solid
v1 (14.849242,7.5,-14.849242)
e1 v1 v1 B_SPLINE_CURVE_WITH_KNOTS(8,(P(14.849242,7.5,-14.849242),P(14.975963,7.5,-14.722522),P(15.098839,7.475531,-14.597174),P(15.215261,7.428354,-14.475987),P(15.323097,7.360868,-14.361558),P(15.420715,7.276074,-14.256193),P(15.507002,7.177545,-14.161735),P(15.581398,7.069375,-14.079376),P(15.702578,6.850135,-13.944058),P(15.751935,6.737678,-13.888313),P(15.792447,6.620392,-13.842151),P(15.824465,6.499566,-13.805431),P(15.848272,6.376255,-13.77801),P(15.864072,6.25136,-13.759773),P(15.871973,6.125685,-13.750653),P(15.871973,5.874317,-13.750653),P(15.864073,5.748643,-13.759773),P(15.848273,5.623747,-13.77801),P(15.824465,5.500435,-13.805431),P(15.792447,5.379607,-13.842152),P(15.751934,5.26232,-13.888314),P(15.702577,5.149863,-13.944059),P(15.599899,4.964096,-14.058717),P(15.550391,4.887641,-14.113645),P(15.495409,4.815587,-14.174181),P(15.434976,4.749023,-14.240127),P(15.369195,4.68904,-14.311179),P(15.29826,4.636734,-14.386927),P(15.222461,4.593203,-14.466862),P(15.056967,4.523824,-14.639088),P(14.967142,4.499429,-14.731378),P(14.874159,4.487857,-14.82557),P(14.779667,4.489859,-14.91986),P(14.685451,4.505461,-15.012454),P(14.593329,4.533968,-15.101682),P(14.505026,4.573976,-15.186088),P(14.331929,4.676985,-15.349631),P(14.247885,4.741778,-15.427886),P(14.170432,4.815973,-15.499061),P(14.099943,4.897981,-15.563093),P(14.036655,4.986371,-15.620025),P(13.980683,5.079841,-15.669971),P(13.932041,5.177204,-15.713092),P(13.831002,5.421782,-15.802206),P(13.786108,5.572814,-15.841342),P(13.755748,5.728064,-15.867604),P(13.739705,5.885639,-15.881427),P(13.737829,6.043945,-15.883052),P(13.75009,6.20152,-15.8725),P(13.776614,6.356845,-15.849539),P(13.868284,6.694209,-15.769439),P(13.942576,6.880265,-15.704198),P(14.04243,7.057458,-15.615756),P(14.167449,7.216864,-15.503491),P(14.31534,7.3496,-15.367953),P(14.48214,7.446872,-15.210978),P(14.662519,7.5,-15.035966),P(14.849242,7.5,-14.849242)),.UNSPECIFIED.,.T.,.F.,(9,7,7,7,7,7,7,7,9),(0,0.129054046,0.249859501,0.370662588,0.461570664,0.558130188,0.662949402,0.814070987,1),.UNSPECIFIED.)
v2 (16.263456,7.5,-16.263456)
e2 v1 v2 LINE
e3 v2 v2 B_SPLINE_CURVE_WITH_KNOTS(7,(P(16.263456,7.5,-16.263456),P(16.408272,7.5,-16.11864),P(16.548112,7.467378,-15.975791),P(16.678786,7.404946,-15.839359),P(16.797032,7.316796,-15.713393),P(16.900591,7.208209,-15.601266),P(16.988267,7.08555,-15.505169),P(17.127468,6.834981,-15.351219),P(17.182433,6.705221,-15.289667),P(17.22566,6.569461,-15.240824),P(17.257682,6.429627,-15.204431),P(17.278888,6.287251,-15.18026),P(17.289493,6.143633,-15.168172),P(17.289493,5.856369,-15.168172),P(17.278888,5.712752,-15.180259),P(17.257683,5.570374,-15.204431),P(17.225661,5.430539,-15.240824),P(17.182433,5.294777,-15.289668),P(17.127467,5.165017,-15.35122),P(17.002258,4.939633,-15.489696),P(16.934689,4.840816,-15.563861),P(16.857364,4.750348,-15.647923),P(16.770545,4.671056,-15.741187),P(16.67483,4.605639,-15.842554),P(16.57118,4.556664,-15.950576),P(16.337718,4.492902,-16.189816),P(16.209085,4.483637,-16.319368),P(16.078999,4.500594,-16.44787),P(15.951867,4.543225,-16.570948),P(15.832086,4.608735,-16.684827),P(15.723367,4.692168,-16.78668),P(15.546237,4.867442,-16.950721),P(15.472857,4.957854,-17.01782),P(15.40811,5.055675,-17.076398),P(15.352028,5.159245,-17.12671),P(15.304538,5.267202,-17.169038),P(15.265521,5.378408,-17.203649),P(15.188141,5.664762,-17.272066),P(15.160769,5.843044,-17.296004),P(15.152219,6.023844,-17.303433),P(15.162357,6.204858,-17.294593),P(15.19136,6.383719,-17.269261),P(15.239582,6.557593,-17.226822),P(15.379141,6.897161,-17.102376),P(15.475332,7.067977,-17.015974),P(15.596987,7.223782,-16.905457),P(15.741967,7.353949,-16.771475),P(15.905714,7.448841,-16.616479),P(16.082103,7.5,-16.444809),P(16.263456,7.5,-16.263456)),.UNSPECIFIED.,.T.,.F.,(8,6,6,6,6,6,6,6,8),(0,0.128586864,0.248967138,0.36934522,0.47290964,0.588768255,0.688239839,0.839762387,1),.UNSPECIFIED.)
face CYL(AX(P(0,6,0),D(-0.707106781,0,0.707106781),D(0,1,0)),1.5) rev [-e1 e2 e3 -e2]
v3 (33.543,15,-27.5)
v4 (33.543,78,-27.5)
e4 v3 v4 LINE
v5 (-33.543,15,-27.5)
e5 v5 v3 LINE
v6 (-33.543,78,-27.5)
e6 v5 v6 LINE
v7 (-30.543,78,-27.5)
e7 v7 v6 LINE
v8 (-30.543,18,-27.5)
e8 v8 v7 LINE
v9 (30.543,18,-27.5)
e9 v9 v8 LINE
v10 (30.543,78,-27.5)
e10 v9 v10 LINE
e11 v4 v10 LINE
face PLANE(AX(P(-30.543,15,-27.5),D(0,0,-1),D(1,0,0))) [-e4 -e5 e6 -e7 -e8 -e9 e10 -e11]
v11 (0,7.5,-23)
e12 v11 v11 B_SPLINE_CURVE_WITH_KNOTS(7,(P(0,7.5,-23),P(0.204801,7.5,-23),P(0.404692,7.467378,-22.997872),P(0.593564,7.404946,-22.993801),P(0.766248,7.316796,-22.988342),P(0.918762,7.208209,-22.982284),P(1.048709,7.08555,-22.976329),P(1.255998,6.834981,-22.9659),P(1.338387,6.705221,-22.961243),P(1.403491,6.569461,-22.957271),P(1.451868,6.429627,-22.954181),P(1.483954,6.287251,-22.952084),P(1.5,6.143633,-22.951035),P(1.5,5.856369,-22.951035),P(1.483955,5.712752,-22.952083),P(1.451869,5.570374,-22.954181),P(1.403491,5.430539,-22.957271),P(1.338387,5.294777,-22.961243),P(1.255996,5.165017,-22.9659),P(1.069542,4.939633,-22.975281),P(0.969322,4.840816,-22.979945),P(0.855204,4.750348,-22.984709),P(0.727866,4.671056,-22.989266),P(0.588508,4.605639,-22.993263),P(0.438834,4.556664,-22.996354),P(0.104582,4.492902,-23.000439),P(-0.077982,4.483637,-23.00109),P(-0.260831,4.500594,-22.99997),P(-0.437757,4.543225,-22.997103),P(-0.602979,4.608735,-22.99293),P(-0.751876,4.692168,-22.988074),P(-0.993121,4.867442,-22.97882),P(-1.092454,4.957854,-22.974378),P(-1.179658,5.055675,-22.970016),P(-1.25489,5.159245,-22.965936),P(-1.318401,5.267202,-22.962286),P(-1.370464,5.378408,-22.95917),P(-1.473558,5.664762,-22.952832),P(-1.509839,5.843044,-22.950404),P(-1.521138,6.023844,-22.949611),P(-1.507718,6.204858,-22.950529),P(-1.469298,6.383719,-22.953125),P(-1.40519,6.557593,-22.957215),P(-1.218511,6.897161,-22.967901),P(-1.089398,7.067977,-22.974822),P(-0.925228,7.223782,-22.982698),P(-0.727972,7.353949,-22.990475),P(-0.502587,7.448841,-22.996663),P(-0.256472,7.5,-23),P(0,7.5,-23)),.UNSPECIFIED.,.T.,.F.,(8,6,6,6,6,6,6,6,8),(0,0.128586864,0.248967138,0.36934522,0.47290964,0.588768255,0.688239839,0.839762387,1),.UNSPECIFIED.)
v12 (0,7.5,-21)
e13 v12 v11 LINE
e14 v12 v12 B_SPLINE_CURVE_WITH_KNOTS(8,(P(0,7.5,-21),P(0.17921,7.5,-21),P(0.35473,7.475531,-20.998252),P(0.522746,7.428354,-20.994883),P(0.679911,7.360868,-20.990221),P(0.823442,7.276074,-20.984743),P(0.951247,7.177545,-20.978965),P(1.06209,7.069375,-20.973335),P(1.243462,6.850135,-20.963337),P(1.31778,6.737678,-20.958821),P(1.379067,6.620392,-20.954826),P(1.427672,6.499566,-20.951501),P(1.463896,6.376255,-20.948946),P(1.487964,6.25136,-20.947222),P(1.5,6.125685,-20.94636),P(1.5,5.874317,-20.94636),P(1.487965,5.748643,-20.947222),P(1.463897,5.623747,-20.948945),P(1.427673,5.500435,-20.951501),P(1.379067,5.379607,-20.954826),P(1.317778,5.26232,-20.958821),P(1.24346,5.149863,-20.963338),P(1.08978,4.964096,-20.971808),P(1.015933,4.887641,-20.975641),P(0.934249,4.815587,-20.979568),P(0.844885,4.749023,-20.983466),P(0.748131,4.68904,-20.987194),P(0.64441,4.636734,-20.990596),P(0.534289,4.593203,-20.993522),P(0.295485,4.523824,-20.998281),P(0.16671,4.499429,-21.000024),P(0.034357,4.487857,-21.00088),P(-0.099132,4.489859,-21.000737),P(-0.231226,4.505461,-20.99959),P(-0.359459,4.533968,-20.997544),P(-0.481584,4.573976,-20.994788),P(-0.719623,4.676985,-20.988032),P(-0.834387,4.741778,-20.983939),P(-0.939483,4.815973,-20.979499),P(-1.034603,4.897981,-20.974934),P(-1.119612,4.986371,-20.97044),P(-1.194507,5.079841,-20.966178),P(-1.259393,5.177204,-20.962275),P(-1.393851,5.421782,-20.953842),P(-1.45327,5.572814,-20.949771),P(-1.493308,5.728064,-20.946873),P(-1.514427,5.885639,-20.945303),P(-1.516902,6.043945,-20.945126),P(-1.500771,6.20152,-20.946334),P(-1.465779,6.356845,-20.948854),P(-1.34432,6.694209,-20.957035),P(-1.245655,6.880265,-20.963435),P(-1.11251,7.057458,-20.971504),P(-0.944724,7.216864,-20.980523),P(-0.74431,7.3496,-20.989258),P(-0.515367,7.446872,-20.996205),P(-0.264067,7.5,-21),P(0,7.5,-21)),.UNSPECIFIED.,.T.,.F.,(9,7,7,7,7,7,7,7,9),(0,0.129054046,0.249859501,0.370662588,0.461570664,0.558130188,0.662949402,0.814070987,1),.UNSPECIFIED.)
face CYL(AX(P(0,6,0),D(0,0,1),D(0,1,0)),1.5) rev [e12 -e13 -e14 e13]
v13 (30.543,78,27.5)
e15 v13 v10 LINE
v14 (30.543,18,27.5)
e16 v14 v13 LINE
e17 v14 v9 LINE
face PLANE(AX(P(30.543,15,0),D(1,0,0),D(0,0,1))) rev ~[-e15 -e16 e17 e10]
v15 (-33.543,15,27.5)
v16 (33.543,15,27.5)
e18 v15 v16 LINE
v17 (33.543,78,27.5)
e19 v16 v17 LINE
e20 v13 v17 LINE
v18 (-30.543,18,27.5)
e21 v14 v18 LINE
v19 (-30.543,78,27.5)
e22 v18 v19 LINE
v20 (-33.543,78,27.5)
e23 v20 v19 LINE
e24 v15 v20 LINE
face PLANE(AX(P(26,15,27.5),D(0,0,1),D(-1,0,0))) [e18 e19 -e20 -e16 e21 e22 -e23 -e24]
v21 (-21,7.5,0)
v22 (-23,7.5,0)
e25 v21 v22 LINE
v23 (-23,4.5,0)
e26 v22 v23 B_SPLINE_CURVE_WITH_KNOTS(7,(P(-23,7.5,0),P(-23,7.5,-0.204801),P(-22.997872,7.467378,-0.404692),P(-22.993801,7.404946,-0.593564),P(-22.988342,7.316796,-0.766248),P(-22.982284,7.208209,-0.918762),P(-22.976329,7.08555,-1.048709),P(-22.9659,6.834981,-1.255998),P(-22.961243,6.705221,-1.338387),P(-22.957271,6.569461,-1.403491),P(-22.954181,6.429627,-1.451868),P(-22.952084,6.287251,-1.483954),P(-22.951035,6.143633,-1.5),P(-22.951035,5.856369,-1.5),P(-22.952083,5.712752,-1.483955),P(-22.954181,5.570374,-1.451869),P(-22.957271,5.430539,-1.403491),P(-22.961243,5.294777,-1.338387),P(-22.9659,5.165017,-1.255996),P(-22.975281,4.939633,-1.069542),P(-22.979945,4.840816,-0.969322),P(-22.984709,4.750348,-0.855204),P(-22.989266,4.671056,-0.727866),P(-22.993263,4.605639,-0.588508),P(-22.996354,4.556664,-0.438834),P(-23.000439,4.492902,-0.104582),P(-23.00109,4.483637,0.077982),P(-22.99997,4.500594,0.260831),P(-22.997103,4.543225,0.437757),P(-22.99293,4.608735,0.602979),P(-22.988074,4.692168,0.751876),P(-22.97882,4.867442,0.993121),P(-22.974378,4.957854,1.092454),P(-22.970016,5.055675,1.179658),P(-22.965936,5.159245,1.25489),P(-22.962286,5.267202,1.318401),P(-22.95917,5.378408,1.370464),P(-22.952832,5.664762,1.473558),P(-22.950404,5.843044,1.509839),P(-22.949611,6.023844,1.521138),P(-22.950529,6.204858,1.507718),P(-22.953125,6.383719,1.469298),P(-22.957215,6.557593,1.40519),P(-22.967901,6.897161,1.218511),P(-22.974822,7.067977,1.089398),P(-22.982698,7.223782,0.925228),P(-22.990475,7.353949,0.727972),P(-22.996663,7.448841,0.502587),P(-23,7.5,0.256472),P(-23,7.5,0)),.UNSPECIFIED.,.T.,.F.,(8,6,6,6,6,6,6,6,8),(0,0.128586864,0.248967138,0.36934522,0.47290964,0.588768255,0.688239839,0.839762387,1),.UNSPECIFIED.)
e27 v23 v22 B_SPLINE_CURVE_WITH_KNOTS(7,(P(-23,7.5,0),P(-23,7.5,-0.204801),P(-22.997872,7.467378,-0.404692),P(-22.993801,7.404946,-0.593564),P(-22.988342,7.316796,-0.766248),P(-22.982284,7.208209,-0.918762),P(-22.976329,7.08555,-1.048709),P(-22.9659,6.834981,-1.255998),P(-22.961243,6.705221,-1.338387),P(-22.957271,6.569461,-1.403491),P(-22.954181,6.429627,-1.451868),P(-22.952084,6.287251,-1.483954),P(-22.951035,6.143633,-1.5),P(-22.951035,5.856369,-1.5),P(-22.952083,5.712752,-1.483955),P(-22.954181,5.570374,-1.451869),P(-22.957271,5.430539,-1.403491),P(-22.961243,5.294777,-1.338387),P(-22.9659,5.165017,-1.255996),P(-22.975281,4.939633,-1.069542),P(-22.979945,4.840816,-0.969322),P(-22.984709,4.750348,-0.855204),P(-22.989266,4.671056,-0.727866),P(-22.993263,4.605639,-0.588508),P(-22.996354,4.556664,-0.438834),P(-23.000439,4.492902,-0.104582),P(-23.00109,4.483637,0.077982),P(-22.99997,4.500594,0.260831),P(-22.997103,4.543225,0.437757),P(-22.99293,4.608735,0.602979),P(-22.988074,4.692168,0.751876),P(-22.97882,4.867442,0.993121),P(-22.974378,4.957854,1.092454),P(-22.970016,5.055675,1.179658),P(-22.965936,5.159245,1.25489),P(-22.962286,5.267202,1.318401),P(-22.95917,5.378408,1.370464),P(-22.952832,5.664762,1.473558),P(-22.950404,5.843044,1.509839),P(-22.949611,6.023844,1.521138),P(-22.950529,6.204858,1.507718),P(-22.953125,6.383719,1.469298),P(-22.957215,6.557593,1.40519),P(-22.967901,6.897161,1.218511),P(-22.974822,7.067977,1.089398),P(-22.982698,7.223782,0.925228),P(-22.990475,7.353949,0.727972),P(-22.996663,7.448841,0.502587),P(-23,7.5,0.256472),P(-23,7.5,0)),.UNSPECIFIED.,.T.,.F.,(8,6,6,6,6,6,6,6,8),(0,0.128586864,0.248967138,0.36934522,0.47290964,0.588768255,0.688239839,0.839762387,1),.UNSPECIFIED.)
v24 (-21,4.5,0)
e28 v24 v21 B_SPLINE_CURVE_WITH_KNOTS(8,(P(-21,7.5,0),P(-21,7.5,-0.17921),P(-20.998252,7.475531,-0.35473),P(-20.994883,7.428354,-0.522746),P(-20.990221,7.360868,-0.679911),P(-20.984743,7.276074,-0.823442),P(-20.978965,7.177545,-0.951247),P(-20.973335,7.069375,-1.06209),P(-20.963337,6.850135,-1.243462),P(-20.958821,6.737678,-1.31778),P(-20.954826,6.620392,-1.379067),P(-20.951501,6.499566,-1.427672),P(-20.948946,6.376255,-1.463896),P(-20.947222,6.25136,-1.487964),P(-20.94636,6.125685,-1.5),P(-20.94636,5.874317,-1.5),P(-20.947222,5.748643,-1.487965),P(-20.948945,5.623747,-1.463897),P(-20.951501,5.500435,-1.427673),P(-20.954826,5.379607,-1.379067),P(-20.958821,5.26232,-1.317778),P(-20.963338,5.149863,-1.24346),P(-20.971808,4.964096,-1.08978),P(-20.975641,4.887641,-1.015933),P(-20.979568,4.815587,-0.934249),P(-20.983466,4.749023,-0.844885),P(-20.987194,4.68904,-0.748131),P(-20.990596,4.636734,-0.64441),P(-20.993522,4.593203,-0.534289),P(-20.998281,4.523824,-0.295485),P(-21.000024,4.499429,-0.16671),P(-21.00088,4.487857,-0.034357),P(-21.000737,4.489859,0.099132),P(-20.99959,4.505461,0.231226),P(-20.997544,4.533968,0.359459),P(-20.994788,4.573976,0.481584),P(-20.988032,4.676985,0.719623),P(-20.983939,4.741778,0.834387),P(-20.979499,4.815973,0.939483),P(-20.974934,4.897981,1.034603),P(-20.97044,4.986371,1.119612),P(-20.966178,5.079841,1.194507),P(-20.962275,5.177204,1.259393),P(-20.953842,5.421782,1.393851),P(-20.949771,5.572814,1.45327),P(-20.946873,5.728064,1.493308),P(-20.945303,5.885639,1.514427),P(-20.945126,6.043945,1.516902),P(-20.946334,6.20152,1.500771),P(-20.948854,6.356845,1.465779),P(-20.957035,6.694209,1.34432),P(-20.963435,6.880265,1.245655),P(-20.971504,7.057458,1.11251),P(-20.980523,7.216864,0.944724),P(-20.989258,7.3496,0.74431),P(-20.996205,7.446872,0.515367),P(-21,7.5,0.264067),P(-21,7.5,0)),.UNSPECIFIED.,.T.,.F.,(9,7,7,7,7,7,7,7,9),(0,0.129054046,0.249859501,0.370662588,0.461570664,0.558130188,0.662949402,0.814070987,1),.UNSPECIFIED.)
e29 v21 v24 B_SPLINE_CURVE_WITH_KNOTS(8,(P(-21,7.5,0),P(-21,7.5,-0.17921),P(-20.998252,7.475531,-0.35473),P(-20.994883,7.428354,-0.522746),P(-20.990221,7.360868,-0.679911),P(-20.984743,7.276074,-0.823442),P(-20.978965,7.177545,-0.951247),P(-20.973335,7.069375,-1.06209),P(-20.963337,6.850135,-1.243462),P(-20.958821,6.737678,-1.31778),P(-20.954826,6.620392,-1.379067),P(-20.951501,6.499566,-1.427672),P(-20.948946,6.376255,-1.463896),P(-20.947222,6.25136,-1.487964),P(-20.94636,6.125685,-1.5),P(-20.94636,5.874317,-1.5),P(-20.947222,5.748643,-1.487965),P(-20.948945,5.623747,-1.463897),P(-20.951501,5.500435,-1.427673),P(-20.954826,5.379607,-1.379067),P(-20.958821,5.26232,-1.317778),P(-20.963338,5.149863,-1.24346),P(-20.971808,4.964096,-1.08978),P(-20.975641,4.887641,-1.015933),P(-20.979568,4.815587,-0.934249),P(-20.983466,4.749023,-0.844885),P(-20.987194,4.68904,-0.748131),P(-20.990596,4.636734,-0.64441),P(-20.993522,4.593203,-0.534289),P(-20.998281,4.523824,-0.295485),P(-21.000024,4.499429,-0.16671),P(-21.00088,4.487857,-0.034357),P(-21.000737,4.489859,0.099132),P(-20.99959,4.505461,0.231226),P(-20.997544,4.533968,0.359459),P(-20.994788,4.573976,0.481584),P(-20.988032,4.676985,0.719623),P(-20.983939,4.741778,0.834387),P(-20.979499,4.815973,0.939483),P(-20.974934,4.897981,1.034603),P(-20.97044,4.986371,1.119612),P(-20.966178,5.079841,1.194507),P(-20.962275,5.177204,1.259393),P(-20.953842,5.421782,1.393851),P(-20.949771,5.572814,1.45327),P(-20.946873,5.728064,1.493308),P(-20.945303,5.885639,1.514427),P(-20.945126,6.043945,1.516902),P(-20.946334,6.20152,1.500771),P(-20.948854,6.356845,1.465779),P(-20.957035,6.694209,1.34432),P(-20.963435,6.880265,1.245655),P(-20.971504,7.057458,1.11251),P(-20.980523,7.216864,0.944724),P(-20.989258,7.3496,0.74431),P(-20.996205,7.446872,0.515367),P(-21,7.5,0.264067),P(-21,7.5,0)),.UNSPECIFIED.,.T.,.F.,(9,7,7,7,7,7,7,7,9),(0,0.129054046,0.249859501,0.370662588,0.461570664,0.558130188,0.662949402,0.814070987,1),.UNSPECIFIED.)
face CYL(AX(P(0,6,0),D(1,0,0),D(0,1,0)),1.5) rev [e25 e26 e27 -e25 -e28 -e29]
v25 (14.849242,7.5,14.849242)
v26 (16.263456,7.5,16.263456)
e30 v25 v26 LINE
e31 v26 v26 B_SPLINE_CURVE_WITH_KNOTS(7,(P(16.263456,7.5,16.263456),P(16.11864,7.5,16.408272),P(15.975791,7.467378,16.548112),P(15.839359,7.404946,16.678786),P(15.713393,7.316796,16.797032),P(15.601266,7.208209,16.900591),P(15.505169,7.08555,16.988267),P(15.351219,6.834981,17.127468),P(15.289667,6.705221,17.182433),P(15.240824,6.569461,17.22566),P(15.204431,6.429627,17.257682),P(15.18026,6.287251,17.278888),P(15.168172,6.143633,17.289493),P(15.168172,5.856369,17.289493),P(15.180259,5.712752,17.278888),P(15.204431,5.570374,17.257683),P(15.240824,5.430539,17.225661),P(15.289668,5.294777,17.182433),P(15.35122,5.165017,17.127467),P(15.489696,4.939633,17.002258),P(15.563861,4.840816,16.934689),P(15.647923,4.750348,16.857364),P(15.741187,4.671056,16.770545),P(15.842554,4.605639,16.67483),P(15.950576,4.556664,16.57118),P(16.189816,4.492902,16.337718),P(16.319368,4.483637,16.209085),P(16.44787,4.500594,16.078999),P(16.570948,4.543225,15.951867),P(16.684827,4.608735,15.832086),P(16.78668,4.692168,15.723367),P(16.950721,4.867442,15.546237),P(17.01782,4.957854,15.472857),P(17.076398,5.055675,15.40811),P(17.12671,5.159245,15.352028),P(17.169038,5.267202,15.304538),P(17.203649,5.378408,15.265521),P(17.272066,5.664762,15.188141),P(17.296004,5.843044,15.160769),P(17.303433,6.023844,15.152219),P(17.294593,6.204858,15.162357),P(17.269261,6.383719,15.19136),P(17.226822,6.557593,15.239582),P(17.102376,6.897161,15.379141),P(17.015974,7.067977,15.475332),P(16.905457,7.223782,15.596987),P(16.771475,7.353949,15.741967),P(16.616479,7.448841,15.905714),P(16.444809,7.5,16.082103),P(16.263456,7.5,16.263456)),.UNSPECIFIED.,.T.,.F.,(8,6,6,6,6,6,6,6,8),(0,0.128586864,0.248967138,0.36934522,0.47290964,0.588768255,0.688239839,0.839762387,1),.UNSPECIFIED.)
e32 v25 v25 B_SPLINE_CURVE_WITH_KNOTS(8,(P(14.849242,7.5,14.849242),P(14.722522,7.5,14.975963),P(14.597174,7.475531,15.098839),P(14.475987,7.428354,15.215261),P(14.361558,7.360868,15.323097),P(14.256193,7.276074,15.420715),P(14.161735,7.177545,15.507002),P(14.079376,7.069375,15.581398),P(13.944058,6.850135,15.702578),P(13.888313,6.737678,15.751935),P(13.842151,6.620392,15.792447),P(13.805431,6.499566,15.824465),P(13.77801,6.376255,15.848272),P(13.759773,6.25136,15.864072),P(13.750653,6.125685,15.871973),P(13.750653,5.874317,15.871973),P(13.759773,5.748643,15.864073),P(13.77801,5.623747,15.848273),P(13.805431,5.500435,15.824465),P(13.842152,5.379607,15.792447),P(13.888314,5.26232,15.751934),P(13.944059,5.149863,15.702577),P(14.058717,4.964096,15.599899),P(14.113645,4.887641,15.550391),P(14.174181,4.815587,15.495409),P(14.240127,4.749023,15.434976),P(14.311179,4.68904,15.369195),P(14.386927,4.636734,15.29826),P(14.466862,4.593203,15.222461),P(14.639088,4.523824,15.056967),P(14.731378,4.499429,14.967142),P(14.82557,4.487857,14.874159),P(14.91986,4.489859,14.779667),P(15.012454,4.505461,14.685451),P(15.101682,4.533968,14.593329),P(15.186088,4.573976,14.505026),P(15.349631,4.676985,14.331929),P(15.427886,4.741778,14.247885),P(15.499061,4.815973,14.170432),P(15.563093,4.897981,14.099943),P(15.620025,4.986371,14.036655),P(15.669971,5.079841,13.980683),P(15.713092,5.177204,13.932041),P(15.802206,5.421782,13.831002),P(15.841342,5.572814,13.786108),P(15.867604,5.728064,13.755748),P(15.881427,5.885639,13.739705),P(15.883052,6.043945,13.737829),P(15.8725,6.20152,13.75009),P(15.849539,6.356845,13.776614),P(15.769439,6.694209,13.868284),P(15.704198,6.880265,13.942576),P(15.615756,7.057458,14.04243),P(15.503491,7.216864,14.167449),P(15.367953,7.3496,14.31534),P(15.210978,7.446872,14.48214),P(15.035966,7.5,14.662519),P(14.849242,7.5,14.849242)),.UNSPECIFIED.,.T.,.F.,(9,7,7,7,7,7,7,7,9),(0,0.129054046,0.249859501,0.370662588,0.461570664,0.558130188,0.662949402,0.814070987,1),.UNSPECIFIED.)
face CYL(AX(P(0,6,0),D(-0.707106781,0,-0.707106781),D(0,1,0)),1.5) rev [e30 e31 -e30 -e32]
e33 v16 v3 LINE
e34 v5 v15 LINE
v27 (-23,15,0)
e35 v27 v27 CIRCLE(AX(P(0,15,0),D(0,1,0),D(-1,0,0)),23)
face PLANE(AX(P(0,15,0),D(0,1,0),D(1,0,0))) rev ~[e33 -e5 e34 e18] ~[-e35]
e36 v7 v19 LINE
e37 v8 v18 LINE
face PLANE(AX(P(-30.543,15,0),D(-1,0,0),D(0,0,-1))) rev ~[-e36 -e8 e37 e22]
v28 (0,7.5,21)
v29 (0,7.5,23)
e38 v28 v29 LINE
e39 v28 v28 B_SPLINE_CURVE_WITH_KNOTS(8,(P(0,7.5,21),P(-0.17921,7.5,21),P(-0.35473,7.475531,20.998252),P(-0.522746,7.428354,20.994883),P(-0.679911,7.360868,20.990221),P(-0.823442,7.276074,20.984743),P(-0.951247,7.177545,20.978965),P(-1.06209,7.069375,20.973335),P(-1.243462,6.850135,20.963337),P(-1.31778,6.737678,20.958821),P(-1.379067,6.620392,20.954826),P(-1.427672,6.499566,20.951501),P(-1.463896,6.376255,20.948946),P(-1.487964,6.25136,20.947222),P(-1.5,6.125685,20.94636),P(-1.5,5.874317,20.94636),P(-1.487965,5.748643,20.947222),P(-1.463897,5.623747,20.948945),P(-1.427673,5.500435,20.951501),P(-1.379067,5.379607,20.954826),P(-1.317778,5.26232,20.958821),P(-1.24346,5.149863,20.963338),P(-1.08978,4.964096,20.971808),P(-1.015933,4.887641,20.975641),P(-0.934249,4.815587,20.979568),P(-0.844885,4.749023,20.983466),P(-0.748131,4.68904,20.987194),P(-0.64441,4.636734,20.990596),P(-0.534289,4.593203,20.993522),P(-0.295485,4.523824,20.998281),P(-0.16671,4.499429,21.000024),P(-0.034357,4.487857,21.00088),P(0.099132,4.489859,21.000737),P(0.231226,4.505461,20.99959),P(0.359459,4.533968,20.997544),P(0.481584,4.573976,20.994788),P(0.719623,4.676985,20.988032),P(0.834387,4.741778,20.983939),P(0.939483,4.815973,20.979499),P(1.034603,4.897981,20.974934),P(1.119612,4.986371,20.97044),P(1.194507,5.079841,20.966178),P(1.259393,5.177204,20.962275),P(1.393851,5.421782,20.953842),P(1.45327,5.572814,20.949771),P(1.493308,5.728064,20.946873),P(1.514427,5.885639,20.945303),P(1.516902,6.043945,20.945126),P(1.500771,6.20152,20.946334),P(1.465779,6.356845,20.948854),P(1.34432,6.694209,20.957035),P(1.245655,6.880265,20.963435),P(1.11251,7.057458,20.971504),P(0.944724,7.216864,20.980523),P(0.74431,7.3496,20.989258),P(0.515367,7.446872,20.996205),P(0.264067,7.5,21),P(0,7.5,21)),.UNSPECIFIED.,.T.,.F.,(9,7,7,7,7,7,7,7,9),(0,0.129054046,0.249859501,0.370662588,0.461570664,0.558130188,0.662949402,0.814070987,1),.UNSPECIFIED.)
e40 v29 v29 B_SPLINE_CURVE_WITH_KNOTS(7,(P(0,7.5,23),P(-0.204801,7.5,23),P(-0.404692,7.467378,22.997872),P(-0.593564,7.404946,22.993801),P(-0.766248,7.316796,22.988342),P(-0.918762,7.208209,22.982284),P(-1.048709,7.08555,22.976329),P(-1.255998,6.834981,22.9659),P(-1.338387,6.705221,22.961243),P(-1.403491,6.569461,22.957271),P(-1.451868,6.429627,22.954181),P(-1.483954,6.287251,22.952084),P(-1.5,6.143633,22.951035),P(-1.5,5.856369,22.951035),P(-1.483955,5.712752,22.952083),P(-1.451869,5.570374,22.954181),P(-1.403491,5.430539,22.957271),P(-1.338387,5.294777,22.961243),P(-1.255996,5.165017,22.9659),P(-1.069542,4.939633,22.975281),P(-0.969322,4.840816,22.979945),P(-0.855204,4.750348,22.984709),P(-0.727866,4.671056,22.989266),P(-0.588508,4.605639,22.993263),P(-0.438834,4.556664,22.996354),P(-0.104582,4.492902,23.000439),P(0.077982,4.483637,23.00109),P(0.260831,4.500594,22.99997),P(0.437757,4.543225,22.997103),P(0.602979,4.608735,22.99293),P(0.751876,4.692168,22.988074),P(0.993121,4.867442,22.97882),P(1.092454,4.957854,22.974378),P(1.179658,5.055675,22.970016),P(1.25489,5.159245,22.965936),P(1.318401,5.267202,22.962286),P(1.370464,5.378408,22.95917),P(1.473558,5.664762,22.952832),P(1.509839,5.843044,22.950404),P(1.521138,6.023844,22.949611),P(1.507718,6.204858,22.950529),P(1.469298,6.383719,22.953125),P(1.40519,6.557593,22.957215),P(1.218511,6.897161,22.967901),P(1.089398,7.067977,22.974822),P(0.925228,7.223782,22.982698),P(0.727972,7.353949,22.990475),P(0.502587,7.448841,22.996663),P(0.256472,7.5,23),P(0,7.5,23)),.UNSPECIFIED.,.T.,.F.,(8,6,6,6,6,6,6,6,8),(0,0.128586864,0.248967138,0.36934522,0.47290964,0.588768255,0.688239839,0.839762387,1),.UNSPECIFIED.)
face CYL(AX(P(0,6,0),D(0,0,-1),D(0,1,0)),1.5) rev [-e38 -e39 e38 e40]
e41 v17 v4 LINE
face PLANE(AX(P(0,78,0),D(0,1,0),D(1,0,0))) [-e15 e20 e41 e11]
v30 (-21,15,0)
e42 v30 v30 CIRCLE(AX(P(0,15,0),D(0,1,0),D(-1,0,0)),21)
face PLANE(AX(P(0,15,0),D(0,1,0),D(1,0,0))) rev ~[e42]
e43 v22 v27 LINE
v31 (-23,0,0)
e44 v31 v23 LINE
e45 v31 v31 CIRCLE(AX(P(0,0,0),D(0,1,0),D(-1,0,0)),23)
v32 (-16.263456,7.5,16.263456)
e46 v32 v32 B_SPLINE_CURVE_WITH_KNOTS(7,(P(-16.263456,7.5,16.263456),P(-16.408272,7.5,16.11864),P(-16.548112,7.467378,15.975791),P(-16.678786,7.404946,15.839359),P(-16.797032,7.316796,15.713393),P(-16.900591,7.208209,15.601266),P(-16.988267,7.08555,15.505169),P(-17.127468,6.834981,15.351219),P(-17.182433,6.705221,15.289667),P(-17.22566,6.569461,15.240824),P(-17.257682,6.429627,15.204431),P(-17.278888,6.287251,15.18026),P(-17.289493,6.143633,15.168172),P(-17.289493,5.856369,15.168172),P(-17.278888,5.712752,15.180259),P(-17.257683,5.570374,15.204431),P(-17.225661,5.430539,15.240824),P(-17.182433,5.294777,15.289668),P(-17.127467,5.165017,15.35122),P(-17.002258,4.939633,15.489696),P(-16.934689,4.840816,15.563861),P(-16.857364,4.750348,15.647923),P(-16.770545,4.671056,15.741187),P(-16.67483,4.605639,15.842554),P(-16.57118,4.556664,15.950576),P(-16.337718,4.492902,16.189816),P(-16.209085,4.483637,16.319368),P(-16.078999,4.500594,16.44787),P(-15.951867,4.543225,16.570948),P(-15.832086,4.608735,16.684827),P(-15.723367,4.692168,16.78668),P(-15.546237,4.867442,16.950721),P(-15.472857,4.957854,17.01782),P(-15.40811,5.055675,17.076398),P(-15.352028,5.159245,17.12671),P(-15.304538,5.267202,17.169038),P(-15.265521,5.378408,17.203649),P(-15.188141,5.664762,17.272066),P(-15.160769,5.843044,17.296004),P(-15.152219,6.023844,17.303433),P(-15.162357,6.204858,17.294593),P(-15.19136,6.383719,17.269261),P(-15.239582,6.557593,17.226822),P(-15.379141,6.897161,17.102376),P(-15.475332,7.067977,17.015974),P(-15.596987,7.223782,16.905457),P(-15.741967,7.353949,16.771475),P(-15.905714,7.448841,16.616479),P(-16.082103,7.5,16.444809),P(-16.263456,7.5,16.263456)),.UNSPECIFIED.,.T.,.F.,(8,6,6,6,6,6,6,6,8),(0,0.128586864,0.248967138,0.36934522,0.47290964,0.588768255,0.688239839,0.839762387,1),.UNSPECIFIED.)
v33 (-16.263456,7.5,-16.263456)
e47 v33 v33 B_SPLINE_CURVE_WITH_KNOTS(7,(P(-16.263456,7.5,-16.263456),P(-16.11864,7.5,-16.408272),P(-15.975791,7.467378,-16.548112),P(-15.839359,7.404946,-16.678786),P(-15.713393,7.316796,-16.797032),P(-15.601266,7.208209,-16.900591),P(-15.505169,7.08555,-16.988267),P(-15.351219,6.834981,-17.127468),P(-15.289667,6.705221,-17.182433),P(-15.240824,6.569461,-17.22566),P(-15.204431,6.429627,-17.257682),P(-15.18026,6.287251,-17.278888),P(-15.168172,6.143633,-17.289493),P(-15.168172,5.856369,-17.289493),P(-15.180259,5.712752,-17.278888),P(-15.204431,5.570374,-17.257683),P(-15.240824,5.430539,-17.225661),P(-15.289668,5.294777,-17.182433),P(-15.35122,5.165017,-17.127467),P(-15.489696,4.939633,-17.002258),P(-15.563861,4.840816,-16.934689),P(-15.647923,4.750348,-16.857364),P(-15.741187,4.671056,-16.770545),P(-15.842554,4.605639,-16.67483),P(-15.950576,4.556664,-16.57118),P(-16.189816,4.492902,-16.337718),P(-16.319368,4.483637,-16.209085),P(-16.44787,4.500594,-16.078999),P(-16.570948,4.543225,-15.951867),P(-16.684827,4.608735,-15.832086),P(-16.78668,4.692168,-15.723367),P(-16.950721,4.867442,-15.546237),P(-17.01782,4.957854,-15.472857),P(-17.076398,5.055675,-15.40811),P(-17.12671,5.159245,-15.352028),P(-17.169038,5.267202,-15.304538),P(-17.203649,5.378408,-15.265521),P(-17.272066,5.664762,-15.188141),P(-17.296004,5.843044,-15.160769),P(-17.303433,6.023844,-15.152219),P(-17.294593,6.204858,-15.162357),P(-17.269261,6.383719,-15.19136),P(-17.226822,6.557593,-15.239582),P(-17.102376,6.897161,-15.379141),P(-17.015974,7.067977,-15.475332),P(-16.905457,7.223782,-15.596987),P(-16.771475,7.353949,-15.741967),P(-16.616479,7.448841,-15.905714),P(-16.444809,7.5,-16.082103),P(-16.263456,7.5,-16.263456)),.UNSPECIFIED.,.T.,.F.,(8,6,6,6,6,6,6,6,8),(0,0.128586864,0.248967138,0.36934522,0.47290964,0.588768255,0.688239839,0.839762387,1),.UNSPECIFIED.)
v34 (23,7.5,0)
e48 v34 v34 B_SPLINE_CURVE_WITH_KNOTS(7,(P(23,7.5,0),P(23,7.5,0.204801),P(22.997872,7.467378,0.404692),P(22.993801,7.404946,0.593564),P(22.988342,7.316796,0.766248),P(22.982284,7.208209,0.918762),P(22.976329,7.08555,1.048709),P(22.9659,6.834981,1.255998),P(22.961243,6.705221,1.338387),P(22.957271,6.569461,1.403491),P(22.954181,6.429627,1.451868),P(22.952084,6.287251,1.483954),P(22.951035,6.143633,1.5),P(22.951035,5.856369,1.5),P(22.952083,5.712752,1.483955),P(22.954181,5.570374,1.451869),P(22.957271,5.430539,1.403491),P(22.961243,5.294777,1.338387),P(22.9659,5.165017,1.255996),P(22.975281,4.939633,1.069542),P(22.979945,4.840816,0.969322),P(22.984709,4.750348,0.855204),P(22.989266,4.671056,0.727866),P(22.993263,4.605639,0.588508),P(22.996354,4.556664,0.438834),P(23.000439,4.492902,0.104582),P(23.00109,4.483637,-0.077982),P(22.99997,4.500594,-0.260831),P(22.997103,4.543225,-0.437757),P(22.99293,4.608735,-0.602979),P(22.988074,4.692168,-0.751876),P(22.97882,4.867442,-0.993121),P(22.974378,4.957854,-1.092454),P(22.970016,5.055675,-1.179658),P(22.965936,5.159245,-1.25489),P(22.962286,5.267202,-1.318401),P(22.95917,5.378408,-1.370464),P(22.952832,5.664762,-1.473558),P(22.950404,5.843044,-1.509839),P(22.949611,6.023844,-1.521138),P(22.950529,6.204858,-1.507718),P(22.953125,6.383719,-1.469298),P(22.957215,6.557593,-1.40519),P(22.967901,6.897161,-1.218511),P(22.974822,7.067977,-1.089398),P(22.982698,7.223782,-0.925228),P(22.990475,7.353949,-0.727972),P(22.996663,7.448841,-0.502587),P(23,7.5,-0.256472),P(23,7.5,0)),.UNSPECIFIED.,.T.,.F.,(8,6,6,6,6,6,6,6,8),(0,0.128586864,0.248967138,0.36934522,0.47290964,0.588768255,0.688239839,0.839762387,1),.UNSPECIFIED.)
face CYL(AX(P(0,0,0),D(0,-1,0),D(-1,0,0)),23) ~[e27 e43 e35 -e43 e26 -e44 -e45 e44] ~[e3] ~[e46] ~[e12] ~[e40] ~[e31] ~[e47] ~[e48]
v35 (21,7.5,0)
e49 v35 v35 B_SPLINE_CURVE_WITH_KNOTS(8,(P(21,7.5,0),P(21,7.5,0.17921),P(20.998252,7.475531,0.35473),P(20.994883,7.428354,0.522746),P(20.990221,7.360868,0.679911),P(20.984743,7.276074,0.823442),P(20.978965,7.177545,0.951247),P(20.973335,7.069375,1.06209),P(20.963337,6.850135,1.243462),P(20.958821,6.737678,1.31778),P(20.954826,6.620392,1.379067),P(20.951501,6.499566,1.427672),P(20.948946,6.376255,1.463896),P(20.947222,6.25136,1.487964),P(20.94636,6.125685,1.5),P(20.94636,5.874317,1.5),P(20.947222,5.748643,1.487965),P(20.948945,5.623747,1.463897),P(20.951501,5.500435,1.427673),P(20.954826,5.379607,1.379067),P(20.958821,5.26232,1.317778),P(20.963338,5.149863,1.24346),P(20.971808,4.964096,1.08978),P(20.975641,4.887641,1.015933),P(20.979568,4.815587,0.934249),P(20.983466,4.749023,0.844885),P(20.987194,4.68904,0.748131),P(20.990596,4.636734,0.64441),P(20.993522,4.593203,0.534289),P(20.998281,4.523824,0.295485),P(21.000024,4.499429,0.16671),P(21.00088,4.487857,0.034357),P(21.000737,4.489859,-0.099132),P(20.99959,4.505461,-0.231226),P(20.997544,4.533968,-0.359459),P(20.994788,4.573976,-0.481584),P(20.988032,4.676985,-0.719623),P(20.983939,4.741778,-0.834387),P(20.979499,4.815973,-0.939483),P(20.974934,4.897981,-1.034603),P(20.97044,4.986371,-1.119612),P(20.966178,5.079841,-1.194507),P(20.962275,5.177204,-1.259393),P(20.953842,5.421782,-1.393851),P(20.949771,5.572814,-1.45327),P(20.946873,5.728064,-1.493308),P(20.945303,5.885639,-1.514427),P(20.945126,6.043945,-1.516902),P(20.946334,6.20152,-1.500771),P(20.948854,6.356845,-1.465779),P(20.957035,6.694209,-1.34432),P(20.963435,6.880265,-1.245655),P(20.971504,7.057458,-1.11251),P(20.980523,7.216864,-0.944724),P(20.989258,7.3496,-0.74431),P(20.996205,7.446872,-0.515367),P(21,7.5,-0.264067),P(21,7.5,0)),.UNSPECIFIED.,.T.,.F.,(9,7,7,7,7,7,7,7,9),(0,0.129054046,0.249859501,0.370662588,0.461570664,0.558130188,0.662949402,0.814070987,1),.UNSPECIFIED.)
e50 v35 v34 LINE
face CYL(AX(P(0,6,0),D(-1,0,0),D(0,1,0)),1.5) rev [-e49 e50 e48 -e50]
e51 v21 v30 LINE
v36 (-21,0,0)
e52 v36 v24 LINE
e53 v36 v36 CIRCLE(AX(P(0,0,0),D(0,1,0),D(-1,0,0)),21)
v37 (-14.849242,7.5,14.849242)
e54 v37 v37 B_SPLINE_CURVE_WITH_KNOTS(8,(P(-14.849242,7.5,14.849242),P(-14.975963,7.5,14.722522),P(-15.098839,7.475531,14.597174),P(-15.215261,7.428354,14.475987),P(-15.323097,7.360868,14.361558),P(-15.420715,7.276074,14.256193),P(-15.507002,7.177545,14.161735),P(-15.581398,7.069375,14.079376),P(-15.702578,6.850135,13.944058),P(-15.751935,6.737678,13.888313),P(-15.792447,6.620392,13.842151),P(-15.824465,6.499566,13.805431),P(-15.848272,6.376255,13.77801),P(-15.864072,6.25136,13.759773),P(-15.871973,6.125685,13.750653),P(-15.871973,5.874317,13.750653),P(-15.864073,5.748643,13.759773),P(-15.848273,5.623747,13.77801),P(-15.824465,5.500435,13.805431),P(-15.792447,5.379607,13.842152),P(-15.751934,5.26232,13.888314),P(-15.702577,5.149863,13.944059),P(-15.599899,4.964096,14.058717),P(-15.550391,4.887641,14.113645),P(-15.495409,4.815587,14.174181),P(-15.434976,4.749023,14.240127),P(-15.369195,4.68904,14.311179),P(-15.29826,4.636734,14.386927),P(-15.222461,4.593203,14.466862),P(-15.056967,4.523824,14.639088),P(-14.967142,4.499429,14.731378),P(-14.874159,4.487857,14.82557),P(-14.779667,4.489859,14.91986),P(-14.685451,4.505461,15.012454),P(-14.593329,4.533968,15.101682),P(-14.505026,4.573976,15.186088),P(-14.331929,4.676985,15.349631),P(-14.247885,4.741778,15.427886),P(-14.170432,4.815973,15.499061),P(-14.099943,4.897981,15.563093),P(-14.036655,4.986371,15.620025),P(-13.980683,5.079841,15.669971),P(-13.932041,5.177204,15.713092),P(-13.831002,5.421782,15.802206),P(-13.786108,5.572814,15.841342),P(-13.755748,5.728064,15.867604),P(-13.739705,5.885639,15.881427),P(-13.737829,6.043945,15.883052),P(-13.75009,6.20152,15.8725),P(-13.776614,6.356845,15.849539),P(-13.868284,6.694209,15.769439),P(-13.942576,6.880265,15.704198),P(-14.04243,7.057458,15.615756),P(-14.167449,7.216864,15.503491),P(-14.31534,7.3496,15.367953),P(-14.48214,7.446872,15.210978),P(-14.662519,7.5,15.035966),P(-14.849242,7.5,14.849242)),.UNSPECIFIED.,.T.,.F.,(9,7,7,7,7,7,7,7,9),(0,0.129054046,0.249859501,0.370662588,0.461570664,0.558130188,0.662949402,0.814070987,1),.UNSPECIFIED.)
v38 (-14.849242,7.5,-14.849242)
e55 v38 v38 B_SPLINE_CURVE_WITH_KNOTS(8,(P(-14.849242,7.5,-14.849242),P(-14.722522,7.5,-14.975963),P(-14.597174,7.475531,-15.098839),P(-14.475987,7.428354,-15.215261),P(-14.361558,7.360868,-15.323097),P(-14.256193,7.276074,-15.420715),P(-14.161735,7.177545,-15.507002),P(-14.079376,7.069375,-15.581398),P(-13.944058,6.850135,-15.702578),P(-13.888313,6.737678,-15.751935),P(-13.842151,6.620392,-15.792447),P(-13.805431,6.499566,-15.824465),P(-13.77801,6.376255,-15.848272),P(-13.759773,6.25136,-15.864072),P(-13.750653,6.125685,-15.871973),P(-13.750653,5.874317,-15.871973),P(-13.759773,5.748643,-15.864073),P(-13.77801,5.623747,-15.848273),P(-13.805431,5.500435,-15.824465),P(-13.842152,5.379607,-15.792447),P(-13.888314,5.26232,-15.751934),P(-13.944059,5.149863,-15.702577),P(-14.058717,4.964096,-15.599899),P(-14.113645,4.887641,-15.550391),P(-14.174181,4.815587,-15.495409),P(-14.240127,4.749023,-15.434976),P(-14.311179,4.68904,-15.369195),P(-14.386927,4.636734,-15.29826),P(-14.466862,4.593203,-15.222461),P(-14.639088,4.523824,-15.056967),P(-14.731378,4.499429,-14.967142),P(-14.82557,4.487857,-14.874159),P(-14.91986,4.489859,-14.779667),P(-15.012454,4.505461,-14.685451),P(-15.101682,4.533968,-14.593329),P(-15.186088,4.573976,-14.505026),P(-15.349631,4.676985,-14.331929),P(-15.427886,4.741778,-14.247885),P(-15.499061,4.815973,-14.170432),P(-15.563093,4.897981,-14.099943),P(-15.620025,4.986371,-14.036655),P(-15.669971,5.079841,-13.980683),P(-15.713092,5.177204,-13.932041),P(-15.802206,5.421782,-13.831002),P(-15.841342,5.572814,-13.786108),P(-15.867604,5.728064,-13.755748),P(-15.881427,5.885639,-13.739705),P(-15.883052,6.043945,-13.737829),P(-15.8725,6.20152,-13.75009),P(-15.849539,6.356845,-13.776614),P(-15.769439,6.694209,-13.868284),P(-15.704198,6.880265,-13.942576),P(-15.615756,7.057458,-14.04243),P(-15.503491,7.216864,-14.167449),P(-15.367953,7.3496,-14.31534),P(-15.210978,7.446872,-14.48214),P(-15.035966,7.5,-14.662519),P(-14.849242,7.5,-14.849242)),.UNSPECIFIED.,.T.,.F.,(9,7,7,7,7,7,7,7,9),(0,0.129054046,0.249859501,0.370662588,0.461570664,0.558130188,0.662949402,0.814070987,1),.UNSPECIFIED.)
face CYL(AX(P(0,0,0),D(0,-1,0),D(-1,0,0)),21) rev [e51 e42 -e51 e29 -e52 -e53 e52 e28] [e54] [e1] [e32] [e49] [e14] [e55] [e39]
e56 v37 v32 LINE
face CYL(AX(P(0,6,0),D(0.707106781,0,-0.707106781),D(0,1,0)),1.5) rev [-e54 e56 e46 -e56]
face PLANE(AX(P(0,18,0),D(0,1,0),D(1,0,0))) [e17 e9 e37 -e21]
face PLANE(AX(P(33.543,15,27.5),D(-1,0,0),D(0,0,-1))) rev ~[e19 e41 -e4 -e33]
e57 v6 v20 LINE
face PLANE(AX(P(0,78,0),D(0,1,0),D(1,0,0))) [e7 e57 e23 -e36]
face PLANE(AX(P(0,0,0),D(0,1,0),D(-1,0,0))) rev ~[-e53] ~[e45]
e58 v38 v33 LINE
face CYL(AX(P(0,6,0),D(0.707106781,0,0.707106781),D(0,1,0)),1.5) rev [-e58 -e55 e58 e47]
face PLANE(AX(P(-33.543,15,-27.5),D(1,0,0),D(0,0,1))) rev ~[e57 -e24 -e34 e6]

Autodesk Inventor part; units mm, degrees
ref_plane "YZ Plane" through (0, 0, 0) normal (1, 0, 0) x (0, 1, 0)
ref_plane "XZ Plane" through (0, 0, 0) normal (0, 1, 0) x (-1, 0, 0)
ref_plane "XY Plane" through (0, 0, 0) normal (0, 0, 1) x (1, 0, 0)
sketch "Sketch1" plane through (0, 0, 0) normal (0, 1, 0) x (-1, 0, 0)
  circle A0 centre (0, 0) radius 21
  circle A1 centre (0, 0) radius 23
  dimension "d0" = 42
  dimension "d1" = 2
extrude "Extrusion1" add sketch "Sketch1" along normal blind 15
sketch "Sketch2" plane through (0, 15, 0) normal (0, 1, 0) x (1, 0, 0)
  line L0 (26, -27.5) -> (-26, -27.5)
  line L1 (-26, 27.5) -> (26, 27.5)
  line L2 (26, -27.5) -> (-26, 27.5) construction
  line L3 (-26, -27.5) -> (26, 27.5) construction
  line L4 (-26, 27.5) -> (-29, 27.5)
  line L5 (-29, -27.5) -> (-26, -27.5)
  line L6 (26, 27.5) -> (29, 27.5)
  line L7 (29, -27.5) -> (26, -27.5)
  circle A0 centre (0, 0) radius 11.075
  line L8 (-30.543, 0) -> (-30.543, -27.5)
  line L9 (-30.543, -27.5) -> (-29, -27.5)
  line L10 (-30.543, 0) -> (-30.543, 27.5)
  line L11 (-30.543, 27.5) -> (-29.0865, 27.5)
  line L12 (30.543, 0) -> (30.543, 27.5)
  line L13 (30.543, 27.5) -> (29, 27.5)
  line L14 (30.543, 0) -> (30.543, -27.5)
  line L15 (30.543, -27.5) -> (29, -27.5)
  line L16 (30.543, -27.5) -> (33.543, -27.5)
  line L17 (33.543, -27.5) -> (33.543, 27.5)
  line L18 (33.543, 27.5) -> (30.543, 27.5)
  line L19 (-30.543, 27.5) -> (-33.543, 27.5)
  line L20 (-33.543, 27.5) -> (-33.543, -27.5)
  line L21 (-33.543, -27.5) -> (-30.543, -27.5)
  line L22 (-29.0865, 27.5) -> (-29, 27.5)
  line L23 (30.543, 27.5) -> (33.543, 27.5)
  line L24 (33.543, 27.5) -> (33.543, -27.5)
  line L25 (33.543, -27.5) -> (30.543, -27.5)
  line L26 (30.543, -27.5) -> (30.543, 27.5)
  line L27 (-33.543, 27.5) -> (-30.543, 27.5)
  line L28 (-30.543, 27.5) -> (-30.543, -27.5)
  line L29 (-30.543, -27.5) -> (-33.543, -27.5)
  line L30 (-33.543, -27.5) -> (-33.543, 27.5)
  dimension "d4" = 52
  dimension "d6" = 3
  dimension "d7" = 3
  dimension "d21" = 22.15
  dimension "d23" = 30.543
  dimension "d24" = 3
extrude "Extrusion2" add sketch "Sketch2" along normal blind 3 contours L0 L5 L9 L8 L10 L11 L22 L4 L1 L6 L13 L12 L14 L15 L7 | A0
sketch "Sketch3" plane through (0, 0, 0) normal (1, 0, 0) x (0, 1, 0)
  circle A0 centre (6, 0) radius 1.5
  line L0 (0, 21) -> (0, -21) projected
  point P0 (0, 0)
  dimension "d14" = 3
  dimension "d15" = 6
extrude "Extrusion4" cut sketch "Sketch3" along normal up to surface
pattern_circular "Circular Pattern1" count 8 over 360 about axis through (0, 0, 0) along (0, 1, 0) of "Extrusion4"
extrude "Extrusion5" add sketch "Sketch2" along normal blind 63 contours L14 L12 L18 L17 L16 | L21 L20 L19 L10 L8
equation "\"d23\" = d22"
equation "\"d22\" = 30.543"
properties part number "baseatas" material "Aluminum 6061"
